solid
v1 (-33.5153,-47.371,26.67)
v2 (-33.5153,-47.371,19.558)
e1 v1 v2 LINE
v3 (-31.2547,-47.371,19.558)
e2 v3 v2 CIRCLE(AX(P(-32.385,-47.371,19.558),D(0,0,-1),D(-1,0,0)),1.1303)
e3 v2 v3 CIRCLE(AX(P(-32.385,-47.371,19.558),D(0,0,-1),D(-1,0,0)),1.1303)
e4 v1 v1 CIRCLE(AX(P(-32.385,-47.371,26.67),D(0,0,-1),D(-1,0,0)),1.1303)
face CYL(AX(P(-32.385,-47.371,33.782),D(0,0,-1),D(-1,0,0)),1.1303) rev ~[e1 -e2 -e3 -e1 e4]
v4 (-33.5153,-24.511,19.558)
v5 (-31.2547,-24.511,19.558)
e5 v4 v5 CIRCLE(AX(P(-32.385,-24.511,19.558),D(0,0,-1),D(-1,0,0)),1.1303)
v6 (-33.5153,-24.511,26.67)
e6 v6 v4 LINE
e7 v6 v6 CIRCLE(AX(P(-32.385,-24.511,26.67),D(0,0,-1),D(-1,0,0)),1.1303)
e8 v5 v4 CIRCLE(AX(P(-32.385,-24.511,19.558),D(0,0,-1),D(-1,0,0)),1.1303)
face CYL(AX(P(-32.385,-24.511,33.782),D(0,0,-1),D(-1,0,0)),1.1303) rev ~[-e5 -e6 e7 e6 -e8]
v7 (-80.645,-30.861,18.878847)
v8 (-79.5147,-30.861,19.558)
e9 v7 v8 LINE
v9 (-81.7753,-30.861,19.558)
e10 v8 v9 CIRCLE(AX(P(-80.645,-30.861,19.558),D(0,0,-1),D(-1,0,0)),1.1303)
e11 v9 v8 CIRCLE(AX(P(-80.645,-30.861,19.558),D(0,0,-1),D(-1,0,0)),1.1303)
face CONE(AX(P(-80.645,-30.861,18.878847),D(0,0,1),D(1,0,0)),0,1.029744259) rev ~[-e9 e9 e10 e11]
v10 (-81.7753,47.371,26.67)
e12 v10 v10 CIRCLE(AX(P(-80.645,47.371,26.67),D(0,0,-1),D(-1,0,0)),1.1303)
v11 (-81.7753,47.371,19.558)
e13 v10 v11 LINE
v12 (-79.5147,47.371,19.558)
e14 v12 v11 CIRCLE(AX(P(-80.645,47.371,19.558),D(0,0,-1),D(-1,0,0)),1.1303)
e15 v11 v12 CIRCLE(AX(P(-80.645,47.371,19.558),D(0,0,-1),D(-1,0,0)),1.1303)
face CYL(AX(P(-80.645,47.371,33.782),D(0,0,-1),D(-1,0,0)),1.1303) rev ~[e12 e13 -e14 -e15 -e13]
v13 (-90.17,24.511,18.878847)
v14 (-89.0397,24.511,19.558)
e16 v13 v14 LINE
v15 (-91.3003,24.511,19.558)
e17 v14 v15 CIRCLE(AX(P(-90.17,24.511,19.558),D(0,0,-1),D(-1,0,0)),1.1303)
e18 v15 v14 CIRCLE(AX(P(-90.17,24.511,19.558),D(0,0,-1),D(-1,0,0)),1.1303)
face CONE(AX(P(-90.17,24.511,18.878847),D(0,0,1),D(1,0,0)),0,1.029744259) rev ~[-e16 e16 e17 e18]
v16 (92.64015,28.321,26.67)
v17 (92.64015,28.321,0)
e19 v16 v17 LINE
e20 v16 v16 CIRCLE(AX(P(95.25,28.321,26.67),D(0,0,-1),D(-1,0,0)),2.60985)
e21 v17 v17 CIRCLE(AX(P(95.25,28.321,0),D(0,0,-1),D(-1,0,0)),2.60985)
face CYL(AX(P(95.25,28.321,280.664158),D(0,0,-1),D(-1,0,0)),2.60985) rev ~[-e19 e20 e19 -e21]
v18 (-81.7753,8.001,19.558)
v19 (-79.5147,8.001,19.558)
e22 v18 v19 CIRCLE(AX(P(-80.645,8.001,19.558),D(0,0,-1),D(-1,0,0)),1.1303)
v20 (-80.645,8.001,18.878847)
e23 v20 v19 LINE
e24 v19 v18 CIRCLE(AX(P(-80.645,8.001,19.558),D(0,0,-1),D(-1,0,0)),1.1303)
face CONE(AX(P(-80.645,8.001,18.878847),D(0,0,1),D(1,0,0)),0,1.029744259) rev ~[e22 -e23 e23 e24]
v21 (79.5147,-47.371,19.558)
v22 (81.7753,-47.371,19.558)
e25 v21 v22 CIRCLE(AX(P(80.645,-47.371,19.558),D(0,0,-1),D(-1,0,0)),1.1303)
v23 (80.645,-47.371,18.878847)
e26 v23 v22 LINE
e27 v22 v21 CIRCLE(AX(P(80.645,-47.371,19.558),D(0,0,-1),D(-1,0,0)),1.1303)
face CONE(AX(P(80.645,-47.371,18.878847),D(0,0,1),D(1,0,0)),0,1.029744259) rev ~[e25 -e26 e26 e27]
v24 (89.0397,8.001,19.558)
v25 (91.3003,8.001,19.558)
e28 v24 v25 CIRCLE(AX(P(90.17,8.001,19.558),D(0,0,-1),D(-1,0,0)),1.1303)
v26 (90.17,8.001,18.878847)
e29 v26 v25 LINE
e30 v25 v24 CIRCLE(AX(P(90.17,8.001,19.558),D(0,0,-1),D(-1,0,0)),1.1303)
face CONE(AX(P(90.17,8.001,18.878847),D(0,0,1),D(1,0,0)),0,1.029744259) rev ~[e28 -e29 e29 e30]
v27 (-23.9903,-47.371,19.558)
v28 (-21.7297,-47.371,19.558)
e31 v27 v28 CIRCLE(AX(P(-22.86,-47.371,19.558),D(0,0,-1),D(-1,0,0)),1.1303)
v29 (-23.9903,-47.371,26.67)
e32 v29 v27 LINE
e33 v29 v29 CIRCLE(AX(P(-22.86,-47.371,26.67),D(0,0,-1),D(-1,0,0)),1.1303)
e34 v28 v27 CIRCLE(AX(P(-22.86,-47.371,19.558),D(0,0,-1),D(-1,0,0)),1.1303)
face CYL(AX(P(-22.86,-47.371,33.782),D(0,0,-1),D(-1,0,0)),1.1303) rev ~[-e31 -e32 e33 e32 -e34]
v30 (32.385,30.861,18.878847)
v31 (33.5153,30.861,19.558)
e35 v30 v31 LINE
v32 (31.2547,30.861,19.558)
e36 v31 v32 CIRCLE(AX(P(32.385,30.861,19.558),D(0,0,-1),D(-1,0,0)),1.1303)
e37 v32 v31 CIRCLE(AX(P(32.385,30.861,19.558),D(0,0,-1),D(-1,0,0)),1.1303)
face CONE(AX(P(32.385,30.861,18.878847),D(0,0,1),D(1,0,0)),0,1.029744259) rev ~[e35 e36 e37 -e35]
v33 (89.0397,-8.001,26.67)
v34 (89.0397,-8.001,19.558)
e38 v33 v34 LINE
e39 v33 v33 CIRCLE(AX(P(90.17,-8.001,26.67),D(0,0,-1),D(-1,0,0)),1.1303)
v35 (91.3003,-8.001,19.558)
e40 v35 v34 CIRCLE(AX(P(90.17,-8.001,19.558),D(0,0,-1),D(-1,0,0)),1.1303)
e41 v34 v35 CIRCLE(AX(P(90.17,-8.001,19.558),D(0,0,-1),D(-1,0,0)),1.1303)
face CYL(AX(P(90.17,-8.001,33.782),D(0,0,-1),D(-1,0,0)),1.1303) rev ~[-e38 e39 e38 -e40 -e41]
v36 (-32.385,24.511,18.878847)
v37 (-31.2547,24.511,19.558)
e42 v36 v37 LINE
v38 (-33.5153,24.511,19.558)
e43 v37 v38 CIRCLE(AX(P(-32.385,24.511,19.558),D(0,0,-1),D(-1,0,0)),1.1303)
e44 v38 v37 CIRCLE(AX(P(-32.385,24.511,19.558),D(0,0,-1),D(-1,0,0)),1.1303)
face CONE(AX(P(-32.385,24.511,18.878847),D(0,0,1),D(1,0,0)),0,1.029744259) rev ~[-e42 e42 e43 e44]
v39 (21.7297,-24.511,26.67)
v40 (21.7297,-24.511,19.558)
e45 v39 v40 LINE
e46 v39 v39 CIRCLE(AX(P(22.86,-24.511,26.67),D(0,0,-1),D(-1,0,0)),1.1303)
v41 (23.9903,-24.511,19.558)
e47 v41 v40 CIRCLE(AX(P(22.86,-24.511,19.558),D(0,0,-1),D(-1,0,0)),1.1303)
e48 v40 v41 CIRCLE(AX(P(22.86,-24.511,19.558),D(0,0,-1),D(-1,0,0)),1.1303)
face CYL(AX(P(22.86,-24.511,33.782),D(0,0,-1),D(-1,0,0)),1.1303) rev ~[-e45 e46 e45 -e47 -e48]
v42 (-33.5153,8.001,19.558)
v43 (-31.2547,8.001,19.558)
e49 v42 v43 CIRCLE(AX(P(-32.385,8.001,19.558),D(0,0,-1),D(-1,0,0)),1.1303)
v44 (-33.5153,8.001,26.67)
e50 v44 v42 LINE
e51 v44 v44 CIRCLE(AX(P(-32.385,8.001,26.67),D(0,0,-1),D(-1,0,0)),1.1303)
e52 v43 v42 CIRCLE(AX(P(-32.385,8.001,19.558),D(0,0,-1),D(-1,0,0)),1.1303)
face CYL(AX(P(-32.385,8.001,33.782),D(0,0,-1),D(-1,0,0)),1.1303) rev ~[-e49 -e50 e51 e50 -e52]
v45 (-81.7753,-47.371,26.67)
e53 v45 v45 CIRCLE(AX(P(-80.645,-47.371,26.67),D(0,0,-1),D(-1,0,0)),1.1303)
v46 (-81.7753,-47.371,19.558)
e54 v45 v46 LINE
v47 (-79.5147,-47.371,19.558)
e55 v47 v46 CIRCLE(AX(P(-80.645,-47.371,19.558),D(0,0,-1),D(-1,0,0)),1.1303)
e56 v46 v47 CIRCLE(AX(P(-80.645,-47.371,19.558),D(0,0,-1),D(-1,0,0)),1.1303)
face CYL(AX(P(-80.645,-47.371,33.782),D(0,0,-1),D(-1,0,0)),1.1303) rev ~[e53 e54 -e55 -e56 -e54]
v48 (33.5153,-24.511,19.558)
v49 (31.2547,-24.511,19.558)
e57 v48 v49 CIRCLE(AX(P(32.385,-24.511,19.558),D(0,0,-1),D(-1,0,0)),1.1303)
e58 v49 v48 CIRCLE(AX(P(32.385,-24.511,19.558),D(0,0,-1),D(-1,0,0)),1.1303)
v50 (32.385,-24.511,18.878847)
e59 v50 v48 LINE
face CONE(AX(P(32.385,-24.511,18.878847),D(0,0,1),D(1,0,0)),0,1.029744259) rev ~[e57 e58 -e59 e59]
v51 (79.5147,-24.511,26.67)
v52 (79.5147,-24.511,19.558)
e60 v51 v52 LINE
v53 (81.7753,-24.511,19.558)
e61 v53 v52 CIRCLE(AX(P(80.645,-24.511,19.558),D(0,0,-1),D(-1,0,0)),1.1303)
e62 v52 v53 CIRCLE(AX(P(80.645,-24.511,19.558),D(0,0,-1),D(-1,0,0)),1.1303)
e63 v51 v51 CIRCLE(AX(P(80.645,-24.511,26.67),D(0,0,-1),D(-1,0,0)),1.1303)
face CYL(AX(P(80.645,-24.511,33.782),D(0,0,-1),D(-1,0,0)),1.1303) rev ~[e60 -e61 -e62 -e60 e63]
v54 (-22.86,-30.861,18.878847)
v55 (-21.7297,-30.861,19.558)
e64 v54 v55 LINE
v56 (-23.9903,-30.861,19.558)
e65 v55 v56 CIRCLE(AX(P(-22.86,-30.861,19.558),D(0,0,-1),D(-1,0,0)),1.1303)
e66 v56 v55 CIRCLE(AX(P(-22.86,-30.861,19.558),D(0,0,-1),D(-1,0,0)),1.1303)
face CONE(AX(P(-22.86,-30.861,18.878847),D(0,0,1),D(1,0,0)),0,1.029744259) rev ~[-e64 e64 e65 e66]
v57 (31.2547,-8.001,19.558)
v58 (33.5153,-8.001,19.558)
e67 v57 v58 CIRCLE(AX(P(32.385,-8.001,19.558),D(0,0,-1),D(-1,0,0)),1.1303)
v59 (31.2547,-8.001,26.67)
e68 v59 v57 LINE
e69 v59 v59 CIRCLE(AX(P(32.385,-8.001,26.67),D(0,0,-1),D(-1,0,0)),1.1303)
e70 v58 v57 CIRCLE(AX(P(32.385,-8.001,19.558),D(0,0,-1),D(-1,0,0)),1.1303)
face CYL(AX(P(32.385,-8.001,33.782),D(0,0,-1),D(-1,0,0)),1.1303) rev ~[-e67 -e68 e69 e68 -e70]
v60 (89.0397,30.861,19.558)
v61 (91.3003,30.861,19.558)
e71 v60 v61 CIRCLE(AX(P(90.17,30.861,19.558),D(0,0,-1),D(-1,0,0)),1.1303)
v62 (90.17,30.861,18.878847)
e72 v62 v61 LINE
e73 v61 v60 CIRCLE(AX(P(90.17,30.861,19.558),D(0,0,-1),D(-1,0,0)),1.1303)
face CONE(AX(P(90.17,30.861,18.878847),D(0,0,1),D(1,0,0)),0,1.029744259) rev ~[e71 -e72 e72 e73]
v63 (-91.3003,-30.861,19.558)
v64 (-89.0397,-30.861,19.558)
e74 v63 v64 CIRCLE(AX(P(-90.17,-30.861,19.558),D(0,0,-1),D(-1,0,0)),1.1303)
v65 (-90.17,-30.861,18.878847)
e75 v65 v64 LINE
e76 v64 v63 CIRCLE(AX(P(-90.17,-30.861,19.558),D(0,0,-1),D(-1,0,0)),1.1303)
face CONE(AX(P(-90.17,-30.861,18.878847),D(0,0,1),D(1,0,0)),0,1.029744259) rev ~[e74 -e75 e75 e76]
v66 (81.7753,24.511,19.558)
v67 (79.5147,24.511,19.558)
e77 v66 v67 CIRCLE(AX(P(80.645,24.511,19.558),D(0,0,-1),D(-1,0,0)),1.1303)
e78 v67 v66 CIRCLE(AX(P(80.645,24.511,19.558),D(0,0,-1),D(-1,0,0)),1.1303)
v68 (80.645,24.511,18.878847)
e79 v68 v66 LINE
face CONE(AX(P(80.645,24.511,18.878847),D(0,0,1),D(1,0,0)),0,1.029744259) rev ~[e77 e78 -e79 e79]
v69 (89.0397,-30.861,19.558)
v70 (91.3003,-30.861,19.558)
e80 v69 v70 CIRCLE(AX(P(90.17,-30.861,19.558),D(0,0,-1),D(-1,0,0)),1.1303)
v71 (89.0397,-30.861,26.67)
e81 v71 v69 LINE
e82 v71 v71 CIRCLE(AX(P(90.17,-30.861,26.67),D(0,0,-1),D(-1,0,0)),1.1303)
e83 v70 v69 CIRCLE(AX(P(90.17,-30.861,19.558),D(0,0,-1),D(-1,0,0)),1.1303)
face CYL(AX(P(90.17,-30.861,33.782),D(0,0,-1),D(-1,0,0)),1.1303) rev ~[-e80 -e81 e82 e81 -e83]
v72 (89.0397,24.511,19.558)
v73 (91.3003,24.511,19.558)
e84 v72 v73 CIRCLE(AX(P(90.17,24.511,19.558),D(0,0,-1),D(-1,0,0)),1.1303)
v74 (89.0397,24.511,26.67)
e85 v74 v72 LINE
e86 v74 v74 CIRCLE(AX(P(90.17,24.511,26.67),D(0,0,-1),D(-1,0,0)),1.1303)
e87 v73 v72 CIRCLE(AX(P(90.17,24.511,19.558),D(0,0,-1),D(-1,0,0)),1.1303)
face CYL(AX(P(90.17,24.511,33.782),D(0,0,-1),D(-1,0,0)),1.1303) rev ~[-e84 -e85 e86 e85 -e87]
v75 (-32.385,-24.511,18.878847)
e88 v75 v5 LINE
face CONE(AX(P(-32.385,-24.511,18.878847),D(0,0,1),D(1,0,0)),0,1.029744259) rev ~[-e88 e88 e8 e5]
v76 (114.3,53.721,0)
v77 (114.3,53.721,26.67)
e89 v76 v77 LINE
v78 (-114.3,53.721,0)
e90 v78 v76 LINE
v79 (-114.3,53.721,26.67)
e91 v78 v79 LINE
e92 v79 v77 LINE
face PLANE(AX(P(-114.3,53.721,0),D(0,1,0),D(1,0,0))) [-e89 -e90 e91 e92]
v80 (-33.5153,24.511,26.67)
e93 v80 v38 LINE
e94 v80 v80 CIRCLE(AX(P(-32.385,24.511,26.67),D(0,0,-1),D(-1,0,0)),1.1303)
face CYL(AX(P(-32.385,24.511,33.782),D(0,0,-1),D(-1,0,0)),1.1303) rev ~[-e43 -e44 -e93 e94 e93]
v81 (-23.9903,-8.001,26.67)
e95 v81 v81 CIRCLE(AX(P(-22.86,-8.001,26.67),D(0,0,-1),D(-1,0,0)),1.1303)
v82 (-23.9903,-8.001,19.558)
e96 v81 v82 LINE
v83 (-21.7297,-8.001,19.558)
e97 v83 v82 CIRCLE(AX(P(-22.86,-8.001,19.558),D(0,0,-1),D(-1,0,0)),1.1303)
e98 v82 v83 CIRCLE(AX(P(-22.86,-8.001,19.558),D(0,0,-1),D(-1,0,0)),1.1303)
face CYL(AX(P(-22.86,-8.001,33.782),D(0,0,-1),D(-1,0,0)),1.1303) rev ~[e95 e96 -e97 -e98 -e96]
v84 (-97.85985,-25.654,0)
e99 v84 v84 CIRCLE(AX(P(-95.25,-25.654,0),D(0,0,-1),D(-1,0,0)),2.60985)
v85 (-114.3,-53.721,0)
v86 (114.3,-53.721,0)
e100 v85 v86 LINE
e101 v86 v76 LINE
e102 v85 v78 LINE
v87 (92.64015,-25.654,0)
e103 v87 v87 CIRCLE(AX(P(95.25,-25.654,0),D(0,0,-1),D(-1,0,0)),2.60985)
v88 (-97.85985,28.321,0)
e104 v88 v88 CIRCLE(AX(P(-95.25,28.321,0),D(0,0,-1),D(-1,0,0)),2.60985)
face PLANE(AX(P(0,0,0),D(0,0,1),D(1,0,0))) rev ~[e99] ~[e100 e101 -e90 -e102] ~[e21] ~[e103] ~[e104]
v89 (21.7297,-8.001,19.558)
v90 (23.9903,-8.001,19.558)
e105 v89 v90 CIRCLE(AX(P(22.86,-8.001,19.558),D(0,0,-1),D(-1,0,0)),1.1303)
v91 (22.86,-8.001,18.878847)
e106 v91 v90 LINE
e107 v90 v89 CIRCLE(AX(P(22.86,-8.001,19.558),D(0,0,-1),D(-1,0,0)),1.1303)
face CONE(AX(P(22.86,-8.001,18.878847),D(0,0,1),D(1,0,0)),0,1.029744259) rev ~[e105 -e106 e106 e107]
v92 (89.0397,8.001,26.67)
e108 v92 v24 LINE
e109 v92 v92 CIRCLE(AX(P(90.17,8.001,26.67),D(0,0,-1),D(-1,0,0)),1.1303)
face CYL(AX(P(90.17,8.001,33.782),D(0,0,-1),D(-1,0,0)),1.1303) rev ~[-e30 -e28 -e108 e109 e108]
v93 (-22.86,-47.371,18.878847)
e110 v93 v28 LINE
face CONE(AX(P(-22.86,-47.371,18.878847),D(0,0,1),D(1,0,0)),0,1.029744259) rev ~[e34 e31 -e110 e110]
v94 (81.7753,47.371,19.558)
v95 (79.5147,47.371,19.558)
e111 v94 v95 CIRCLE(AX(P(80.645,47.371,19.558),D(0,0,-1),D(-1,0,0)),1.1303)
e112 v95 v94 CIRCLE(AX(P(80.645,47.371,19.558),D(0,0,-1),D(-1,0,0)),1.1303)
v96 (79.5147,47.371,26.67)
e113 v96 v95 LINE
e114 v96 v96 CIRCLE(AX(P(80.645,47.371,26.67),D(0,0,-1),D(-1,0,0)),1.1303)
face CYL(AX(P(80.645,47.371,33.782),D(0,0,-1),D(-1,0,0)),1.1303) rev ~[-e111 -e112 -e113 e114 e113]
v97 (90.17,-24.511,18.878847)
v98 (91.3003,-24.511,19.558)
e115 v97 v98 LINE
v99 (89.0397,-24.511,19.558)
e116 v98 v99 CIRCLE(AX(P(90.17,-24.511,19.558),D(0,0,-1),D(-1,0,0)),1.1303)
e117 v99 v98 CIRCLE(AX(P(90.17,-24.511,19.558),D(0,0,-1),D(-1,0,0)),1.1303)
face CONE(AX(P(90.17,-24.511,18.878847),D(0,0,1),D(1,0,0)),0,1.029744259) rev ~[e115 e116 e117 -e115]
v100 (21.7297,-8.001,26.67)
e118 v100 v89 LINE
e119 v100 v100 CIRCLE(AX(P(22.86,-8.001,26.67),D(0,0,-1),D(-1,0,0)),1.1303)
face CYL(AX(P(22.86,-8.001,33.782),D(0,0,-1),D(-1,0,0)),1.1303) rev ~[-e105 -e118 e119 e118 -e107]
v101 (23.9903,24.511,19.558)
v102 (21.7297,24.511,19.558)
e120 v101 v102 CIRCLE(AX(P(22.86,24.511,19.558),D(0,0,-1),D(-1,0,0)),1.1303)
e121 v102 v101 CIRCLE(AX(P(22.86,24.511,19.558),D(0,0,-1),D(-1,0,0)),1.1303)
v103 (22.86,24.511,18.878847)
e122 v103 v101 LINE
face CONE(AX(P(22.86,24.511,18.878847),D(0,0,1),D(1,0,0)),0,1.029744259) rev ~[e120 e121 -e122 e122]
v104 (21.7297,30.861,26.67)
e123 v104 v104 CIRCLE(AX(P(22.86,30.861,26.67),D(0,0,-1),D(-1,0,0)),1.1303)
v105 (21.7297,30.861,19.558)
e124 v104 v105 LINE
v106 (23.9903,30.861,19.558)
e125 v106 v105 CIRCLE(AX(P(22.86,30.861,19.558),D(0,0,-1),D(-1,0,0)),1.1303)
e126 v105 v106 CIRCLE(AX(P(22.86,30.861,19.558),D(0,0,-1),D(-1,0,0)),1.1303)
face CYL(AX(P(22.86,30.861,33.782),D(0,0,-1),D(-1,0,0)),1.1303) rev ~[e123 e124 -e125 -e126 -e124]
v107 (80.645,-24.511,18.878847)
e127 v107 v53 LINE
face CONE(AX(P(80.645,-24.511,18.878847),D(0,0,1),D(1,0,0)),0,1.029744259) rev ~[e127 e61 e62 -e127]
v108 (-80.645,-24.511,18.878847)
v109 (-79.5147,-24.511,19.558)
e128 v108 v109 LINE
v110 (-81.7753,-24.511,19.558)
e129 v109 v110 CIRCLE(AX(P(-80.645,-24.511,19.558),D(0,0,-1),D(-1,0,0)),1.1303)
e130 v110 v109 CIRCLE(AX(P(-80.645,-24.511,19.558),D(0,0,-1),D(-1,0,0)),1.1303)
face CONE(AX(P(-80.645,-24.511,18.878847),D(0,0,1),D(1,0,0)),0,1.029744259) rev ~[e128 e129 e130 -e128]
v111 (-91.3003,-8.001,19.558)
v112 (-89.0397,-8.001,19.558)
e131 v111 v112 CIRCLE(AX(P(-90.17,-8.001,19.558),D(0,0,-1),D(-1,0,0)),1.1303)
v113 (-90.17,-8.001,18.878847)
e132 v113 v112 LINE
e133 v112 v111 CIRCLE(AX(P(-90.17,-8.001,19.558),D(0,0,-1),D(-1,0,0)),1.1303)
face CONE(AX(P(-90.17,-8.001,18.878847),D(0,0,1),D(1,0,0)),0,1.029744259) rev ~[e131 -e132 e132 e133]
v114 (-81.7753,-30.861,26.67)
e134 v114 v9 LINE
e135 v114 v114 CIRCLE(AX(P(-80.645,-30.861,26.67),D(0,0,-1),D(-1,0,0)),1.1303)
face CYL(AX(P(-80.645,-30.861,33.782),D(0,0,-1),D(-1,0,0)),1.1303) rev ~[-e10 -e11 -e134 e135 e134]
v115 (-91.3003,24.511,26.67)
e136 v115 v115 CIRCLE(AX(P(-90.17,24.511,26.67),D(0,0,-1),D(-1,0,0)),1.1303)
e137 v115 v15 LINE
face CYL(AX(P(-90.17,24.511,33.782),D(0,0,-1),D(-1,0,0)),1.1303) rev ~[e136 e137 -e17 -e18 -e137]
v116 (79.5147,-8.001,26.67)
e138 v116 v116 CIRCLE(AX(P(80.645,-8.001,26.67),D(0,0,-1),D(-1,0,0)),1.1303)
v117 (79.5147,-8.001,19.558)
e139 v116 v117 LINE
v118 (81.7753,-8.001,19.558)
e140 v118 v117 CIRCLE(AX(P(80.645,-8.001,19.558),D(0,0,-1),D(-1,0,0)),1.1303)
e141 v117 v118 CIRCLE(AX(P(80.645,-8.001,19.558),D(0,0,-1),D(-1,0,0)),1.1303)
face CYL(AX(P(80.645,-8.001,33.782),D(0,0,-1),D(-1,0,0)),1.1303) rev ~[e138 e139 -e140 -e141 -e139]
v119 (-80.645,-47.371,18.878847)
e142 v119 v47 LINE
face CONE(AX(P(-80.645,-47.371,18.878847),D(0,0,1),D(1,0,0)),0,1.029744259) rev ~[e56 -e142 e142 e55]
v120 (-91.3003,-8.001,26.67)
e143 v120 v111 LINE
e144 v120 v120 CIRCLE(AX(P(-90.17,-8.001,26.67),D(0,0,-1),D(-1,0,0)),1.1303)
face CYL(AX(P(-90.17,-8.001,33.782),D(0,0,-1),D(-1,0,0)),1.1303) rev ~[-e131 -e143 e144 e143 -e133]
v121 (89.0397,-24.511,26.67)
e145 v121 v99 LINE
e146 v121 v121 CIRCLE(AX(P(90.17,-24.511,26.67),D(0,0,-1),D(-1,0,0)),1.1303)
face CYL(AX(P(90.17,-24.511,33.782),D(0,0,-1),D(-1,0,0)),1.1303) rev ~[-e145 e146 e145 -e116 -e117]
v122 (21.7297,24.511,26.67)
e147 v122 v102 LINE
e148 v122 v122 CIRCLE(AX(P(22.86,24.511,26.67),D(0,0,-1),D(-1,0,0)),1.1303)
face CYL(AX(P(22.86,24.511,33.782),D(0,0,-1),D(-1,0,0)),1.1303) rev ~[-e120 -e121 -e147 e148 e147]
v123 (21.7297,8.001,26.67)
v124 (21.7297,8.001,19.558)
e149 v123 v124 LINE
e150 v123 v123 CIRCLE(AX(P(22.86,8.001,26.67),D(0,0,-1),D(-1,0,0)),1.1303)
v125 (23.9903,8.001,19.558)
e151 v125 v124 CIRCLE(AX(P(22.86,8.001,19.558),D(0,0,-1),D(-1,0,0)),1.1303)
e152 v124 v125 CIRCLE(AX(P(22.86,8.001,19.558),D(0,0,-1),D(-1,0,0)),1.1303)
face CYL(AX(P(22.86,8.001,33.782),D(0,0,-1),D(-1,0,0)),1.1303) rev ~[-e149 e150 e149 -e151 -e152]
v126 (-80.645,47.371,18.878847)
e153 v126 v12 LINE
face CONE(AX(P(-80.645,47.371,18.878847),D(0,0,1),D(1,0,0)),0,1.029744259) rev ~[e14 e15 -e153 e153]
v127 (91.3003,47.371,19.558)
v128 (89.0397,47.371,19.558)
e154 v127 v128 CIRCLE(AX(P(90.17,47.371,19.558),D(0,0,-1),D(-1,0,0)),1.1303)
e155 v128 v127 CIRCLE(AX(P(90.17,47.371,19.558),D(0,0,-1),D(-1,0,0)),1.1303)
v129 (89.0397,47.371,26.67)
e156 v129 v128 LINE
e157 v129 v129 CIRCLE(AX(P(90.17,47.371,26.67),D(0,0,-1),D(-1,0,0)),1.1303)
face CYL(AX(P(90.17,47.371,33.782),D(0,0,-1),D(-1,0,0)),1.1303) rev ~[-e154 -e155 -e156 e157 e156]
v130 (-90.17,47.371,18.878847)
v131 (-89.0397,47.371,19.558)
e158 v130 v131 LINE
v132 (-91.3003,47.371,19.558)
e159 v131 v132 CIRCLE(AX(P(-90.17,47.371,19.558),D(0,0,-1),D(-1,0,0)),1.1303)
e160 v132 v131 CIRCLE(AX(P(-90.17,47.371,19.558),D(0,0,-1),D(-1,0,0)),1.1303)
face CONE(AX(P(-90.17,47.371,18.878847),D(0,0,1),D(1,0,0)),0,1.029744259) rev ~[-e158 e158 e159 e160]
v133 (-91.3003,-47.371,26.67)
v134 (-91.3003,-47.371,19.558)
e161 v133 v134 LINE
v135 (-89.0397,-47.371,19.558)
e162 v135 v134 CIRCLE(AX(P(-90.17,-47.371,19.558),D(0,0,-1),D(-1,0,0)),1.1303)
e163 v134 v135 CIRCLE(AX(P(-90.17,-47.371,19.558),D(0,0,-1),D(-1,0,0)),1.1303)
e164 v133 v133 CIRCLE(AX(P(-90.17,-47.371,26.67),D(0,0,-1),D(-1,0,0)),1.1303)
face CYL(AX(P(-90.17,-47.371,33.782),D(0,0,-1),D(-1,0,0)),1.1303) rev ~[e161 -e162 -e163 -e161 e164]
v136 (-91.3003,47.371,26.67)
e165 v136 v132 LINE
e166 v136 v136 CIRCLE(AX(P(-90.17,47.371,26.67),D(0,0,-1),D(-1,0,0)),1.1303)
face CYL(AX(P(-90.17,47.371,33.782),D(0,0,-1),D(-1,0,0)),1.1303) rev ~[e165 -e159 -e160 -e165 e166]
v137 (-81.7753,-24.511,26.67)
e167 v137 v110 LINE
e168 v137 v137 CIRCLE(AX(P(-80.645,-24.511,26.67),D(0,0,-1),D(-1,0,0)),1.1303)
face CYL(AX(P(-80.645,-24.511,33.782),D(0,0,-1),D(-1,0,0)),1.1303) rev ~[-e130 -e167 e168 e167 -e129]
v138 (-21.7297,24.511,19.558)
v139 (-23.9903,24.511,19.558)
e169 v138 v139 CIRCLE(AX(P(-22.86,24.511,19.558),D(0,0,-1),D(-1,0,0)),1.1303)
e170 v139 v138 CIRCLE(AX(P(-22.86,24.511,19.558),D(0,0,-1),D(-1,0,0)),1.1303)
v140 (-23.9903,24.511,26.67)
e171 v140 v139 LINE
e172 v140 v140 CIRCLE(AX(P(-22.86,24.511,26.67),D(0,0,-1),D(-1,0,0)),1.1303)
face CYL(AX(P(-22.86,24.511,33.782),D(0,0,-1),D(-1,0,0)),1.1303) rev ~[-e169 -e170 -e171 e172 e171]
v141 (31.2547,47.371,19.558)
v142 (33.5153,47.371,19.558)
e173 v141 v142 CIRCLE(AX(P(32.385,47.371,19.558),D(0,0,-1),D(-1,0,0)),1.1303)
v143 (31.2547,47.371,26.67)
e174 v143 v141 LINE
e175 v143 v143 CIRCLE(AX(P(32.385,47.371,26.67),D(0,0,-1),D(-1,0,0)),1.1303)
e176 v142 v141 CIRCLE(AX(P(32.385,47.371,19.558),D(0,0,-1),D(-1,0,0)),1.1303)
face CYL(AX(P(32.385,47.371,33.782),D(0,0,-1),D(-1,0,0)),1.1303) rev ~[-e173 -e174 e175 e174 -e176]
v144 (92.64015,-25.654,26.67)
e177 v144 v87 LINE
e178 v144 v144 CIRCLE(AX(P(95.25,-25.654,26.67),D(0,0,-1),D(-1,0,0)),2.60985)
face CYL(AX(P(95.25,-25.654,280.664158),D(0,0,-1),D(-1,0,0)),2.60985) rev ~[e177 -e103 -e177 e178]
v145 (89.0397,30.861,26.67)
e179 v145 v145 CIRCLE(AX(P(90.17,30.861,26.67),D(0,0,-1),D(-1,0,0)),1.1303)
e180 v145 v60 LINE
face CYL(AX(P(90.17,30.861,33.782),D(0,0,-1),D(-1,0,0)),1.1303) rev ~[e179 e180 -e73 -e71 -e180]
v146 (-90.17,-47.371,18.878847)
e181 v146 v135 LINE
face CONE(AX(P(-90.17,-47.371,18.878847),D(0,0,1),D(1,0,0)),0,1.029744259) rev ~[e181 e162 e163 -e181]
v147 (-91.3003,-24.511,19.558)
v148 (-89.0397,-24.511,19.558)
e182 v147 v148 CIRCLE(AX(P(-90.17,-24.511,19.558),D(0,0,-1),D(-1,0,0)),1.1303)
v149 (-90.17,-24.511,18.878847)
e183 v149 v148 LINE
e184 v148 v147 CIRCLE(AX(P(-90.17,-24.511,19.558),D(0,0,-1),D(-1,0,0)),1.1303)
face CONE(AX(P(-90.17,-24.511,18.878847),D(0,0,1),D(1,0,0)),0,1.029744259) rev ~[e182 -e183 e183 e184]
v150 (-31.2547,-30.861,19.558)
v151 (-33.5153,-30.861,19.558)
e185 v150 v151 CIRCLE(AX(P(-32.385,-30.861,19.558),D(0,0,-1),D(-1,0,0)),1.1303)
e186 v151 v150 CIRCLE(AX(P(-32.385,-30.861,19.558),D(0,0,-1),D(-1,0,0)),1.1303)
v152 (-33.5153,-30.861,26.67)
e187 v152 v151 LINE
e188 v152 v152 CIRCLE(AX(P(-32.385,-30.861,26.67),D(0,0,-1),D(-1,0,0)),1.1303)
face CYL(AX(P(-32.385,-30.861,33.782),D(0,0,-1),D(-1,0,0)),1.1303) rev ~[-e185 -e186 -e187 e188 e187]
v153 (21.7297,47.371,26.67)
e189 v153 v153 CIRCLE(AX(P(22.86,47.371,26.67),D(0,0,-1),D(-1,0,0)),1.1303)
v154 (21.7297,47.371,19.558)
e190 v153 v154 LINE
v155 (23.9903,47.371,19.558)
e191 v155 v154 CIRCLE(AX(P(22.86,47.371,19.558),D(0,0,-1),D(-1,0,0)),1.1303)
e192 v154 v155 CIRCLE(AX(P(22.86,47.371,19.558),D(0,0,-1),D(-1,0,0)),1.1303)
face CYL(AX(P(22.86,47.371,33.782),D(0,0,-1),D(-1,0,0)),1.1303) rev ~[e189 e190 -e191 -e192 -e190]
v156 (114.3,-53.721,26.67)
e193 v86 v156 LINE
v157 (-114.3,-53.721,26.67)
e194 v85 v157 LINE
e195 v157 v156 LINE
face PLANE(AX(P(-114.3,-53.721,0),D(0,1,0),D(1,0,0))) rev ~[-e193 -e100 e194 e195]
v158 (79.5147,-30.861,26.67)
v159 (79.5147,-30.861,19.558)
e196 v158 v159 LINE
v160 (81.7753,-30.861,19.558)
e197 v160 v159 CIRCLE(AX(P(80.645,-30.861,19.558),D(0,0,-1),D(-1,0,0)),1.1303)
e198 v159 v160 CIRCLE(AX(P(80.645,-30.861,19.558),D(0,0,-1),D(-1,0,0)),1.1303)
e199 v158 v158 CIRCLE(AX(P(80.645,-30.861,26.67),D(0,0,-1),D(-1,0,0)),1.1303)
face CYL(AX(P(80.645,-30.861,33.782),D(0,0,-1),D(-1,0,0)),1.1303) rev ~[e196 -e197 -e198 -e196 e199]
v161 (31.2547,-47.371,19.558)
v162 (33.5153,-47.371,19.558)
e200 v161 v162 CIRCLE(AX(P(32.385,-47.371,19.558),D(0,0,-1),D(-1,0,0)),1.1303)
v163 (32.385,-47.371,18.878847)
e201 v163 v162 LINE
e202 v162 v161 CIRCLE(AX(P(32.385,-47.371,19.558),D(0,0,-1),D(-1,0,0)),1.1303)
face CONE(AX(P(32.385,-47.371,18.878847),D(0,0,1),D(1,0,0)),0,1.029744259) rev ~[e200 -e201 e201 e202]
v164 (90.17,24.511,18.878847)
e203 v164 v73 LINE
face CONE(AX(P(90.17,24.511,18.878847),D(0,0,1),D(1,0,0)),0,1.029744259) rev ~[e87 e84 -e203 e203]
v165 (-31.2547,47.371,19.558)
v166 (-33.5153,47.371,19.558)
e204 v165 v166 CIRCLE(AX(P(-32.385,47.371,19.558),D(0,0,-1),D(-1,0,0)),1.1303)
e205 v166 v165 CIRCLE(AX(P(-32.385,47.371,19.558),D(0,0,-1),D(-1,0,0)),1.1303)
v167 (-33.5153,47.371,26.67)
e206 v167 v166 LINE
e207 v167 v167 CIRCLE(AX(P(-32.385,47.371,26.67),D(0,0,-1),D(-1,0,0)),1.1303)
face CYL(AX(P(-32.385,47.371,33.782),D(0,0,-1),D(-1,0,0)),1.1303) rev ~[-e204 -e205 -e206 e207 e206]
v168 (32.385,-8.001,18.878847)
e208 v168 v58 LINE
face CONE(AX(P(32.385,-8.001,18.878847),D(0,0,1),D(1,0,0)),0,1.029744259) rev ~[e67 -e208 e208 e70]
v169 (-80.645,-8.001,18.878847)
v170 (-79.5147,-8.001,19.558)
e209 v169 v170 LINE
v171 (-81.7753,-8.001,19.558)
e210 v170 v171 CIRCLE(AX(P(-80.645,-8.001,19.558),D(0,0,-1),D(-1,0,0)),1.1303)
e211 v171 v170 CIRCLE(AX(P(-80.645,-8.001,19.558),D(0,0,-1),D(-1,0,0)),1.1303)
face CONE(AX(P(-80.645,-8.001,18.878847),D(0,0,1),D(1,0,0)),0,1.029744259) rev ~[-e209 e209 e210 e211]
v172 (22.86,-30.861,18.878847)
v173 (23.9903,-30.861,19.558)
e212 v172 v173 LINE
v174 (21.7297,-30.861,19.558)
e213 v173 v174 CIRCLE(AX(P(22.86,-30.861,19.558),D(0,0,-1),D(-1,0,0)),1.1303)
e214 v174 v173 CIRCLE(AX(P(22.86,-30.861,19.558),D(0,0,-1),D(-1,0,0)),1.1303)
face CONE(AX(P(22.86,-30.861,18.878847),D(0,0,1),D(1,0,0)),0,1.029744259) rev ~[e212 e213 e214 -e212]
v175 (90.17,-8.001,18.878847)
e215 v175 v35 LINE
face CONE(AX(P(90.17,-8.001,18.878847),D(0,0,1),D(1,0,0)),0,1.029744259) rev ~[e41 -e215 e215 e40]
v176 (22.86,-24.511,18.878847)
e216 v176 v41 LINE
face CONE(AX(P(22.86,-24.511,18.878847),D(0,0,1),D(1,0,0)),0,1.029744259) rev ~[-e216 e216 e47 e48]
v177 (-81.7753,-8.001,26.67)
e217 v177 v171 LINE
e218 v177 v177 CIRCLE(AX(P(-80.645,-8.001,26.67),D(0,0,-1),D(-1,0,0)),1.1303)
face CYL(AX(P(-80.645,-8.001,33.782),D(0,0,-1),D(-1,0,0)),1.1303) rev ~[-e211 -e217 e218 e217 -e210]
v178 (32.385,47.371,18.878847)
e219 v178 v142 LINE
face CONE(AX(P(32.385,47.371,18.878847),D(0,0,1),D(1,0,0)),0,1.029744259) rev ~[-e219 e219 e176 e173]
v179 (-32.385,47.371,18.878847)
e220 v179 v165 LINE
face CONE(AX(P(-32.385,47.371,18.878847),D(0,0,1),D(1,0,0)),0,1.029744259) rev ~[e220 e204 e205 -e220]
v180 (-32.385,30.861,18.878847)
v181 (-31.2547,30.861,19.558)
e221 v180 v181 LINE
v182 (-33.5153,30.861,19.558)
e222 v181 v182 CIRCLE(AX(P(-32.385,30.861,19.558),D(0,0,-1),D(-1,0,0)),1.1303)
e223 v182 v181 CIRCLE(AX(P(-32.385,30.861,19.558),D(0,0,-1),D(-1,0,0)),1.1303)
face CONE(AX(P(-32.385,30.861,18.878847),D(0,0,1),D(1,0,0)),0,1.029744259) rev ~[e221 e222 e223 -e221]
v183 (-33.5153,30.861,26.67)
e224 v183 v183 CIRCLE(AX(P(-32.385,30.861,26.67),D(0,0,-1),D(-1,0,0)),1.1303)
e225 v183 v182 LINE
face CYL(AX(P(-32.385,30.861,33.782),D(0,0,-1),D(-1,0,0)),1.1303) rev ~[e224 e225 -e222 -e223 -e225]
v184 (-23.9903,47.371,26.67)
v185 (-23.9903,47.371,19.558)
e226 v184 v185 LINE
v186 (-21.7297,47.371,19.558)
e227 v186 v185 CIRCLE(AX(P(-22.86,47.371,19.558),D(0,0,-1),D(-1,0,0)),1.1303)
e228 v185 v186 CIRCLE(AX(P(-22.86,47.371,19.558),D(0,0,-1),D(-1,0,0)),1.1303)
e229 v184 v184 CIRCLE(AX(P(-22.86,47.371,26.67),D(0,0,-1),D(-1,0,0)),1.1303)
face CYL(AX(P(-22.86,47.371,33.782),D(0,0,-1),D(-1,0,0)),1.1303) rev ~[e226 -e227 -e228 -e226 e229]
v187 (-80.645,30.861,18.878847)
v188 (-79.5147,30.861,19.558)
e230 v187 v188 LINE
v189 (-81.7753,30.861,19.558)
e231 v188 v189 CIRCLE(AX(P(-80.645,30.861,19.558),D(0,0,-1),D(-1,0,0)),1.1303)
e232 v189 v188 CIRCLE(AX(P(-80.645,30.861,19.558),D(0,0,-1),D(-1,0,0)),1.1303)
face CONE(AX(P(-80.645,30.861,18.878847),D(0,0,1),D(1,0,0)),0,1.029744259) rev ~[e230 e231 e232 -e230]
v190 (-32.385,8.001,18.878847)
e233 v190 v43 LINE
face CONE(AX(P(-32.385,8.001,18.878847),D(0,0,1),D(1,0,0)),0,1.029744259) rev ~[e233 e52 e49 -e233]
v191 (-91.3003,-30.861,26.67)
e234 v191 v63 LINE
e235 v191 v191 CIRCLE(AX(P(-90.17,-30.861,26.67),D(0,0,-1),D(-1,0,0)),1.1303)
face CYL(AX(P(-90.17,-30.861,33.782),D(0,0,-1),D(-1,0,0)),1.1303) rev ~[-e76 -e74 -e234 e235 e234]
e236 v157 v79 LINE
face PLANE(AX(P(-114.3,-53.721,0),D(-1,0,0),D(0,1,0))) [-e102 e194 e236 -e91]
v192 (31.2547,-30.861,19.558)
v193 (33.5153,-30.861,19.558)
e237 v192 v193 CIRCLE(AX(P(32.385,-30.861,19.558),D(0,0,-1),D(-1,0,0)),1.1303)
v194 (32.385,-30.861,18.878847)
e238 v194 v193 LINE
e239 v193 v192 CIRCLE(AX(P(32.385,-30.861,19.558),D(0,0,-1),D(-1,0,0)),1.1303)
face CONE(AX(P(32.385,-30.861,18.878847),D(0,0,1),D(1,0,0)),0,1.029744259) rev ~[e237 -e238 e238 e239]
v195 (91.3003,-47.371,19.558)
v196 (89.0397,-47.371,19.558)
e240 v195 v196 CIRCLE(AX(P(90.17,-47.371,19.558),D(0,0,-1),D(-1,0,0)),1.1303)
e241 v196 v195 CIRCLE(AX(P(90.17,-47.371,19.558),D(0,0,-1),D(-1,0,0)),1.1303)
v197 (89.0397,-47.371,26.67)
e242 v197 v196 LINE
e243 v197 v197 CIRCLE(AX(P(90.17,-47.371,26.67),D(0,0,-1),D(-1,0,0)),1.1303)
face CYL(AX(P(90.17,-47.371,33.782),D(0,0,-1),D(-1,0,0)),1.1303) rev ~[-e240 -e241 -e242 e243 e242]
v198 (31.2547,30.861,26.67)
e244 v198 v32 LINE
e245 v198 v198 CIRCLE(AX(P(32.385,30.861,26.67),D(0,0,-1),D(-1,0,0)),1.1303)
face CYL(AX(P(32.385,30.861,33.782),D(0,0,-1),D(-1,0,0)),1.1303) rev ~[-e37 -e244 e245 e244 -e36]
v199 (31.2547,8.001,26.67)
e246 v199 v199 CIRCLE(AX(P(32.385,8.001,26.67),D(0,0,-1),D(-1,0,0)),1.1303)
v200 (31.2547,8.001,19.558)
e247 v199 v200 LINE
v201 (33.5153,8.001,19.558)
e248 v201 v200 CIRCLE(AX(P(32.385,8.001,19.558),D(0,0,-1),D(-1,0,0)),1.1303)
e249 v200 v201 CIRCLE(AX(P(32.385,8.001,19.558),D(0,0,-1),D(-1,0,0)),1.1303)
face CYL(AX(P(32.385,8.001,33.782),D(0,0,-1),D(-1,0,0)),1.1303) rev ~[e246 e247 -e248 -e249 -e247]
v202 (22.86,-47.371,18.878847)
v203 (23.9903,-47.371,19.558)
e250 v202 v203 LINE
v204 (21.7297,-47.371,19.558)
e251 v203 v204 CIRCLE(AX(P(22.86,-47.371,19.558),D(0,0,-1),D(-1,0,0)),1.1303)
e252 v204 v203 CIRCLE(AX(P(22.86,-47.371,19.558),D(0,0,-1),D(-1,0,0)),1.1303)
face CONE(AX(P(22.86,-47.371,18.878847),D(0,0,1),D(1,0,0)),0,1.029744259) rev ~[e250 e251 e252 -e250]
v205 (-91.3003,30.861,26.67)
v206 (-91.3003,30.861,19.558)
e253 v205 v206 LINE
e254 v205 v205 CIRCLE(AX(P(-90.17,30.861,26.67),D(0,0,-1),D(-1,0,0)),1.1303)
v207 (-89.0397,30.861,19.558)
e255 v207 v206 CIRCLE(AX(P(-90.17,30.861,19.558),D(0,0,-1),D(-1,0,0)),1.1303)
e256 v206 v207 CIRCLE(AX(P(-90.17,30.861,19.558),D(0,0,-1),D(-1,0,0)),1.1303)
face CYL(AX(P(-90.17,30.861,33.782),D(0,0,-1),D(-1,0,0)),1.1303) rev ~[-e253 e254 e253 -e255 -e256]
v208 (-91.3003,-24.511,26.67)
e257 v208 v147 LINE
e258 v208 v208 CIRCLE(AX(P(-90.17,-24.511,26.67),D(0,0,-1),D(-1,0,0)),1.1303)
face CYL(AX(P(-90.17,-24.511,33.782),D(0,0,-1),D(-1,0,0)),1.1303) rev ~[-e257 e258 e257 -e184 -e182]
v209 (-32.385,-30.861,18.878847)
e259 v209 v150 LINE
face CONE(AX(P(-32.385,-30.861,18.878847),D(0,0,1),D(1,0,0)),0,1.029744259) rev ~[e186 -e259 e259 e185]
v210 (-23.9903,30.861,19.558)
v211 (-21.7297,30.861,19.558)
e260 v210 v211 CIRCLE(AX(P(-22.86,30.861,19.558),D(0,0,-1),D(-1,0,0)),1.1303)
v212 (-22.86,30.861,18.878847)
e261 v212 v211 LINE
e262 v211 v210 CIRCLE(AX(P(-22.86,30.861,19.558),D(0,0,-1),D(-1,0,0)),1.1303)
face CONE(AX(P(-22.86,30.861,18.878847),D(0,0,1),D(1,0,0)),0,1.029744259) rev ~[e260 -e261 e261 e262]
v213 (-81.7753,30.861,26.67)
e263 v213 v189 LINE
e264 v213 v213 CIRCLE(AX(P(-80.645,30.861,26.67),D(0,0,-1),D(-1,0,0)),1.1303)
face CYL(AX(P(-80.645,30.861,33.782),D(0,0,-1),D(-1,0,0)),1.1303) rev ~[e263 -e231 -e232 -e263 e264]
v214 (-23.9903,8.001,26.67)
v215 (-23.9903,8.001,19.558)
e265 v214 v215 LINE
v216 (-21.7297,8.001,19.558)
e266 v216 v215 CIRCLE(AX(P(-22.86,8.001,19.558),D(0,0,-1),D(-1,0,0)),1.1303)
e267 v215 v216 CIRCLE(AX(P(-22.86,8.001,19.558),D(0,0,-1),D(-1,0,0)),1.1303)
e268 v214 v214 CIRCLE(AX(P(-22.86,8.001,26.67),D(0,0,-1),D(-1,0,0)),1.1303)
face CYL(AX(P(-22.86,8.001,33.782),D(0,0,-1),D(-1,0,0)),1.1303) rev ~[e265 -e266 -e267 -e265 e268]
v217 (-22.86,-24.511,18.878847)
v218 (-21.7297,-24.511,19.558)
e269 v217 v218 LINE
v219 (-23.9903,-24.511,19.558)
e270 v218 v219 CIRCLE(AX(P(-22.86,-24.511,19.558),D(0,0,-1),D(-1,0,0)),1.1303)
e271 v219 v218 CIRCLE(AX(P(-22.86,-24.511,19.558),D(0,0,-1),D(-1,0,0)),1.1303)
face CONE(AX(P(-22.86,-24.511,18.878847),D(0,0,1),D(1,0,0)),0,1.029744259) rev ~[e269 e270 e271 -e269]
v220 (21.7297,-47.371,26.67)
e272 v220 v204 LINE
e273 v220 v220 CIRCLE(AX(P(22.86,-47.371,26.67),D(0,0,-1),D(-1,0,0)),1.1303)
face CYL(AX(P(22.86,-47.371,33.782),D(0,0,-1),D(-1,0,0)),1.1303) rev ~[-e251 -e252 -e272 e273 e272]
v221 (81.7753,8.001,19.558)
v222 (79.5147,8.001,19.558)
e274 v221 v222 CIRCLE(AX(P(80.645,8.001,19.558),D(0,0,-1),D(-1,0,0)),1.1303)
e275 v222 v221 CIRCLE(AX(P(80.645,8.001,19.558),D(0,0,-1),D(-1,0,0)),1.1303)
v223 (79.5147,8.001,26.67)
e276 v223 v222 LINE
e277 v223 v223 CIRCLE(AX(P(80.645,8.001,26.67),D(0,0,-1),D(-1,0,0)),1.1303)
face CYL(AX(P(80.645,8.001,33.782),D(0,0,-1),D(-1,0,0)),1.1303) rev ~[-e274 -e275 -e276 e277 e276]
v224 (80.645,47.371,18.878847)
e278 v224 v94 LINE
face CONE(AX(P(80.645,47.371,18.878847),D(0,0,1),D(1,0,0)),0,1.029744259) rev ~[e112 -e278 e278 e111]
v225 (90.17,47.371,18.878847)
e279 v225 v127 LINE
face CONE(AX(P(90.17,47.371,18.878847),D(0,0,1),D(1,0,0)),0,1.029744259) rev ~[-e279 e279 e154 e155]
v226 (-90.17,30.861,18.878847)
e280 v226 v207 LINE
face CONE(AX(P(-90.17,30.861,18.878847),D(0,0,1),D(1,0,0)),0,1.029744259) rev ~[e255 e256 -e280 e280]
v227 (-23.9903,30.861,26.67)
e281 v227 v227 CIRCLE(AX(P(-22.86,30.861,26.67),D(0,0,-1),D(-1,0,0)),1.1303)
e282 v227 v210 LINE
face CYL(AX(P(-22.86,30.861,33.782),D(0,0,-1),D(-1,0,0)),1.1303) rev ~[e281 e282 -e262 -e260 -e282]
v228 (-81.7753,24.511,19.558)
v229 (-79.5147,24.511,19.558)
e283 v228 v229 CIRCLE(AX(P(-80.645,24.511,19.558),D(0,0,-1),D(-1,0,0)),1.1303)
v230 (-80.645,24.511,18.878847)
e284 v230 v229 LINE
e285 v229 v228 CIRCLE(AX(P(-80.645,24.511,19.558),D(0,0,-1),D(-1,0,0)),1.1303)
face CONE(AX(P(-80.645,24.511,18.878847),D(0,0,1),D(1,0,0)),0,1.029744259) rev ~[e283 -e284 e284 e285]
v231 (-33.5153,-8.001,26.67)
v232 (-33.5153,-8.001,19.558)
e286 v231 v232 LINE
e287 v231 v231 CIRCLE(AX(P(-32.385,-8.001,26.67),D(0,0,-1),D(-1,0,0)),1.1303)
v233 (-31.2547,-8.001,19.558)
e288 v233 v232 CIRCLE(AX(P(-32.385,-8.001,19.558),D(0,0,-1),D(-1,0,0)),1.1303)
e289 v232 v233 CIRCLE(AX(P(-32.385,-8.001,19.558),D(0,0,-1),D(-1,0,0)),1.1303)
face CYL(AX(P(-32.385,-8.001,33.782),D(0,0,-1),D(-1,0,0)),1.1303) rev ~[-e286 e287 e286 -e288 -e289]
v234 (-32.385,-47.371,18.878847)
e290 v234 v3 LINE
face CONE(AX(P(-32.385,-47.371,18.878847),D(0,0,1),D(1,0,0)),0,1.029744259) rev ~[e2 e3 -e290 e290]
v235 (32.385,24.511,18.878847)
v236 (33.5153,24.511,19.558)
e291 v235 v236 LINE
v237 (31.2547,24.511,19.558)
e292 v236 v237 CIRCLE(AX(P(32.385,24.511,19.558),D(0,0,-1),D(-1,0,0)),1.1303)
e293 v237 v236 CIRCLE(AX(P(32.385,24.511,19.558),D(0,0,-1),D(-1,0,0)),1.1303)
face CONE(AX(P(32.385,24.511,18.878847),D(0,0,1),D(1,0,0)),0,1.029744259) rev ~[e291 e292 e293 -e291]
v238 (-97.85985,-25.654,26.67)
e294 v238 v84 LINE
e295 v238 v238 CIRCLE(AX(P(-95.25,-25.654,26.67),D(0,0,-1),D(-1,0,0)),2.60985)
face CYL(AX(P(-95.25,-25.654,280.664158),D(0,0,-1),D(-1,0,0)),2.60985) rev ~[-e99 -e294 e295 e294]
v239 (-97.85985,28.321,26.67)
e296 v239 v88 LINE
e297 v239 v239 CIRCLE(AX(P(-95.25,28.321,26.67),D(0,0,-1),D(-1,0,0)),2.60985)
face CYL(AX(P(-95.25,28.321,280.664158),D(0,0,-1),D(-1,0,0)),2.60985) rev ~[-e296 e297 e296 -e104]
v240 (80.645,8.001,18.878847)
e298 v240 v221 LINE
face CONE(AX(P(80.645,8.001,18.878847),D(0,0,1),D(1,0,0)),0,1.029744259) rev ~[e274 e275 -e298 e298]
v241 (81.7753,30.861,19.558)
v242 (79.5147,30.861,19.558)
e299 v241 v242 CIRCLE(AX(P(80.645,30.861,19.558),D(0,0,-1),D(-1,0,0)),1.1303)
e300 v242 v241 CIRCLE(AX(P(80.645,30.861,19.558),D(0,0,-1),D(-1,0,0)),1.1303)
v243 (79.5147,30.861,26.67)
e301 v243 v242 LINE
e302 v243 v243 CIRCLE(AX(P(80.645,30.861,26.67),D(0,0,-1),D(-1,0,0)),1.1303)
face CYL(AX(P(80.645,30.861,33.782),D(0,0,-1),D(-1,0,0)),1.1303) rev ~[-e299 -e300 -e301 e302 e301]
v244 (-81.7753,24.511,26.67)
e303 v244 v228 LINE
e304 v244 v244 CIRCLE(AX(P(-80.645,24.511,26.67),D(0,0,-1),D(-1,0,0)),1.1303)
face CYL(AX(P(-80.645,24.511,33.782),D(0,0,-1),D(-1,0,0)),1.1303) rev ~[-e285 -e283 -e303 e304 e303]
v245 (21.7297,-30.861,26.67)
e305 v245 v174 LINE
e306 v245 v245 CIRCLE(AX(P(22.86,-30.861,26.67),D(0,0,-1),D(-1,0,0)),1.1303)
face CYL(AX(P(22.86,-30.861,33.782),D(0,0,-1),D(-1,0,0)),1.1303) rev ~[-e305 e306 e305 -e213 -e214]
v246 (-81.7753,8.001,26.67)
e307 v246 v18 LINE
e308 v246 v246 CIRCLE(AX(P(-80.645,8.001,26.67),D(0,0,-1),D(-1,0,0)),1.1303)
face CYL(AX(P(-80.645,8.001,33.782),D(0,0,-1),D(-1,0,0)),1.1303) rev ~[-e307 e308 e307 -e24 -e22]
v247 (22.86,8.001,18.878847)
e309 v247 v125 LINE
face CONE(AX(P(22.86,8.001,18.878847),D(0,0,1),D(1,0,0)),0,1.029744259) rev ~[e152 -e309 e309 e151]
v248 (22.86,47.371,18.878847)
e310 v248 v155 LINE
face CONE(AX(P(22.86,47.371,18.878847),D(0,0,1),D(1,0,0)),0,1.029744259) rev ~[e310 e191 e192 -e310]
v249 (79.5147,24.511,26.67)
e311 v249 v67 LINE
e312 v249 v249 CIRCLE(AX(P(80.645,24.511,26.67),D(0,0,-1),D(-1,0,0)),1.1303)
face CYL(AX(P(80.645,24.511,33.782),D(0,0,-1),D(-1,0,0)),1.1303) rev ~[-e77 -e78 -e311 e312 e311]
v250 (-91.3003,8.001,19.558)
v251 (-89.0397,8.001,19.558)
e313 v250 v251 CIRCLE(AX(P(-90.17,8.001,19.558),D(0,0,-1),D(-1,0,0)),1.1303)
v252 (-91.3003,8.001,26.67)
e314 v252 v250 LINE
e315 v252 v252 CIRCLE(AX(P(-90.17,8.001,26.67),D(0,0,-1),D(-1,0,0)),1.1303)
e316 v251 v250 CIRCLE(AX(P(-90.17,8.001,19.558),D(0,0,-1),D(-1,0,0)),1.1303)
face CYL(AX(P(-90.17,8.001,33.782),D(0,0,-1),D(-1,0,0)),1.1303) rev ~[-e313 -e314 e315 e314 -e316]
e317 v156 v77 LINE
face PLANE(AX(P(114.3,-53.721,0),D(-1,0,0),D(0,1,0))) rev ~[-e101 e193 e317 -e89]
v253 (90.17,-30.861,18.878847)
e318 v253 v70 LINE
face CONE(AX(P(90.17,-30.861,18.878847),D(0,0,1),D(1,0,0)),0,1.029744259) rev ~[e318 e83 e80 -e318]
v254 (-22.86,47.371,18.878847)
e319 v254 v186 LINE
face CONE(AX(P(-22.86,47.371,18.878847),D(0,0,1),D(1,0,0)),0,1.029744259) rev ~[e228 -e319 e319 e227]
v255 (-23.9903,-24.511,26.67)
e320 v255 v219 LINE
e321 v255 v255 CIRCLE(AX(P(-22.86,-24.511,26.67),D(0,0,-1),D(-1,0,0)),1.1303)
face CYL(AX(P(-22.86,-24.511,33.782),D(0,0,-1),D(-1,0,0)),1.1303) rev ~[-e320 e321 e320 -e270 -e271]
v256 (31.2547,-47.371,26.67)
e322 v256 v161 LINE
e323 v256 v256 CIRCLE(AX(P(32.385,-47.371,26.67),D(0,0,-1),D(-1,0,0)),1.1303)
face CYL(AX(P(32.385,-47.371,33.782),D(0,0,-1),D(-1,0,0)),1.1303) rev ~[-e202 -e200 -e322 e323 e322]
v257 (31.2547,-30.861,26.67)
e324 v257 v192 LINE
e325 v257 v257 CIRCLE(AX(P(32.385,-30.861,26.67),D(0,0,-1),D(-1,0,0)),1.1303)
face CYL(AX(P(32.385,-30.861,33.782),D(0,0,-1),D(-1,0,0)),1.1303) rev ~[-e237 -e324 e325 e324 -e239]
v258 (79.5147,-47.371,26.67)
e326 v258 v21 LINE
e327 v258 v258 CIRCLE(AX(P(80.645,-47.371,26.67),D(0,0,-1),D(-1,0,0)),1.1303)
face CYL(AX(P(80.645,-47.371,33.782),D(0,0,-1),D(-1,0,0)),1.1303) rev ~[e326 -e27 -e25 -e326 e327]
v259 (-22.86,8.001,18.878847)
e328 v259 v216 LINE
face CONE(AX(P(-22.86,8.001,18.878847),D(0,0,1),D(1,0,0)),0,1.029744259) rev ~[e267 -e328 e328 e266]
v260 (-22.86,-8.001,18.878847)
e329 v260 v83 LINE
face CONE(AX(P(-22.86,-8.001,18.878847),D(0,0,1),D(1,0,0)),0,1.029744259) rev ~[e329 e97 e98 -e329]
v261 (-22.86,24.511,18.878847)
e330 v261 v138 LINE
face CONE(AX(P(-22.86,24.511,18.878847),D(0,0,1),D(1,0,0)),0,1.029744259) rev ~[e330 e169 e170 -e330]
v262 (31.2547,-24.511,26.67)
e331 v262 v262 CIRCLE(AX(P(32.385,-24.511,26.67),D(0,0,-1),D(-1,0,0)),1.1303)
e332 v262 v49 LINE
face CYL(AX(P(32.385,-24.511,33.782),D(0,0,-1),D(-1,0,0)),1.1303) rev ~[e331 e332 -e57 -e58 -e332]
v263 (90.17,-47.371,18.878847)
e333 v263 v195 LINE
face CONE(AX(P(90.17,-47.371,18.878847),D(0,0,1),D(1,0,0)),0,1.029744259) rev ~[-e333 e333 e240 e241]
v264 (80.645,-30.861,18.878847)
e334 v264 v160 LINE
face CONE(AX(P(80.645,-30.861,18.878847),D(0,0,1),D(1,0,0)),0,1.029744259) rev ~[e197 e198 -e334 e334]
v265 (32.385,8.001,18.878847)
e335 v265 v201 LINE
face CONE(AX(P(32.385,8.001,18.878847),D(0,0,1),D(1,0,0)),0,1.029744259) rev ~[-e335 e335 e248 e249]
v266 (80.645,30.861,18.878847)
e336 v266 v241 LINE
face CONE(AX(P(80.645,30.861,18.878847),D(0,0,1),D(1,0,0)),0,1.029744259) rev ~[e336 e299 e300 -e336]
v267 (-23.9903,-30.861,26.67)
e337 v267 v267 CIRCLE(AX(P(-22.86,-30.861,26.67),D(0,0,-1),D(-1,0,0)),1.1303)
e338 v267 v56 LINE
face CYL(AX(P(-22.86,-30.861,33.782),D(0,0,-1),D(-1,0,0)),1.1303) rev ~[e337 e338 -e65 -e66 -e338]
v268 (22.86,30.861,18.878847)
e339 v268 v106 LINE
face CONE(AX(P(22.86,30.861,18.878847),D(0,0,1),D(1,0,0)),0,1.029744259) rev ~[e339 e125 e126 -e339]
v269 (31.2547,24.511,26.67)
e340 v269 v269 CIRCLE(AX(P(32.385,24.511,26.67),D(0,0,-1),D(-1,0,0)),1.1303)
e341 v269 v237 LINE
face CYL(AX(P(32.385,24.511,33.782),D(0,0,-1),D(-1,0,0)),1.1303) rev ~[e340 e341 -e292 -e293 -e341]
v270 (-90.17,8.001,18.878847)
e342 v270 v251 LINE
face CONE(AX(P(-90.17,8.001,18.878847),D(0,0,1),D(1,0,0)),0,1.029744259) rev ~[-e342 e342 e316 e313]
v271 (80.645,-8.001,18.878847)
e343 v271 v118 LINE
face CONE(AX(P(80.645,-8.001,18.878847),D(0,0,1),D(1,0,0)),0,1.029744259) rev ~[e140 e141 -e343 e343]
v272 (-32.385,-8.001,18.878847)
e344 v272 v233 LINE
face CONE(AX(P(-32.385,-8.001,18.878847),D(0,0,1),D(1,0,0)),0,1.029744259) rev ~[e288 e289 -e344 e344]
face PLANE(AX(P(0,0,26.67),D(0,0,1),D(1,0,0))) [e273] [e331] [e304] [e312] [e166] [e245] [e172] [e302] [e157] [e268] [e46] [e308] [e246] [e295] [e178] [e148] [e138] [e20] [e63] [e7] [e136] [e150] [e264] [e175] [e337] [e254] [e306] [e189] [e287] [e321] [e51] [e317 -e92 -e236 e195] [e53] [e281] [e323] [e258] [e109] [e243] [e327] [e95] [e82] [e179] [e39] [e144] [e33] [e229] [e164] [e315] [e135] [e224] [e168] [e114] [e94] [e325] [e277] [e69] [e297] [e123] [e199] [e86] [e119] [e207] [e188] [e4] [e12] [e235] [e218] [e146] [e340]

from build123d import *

# Parameters (mm, degrees)
F0_W     = 228.6
F0_H     = 107.442
F1_DEPTH = 26.67
F3_D     = 5.2197
F5_D     = 2.2606
F5_DEPTH = 7.112
F5_TIP   = 0.6791527577


with BuildPart() as f1:
    # F0 (on Top) → F1 (new body)
    with BuildSketch(Plane.XY):
        Rectangle(F0_W, F0_H)
    extrude(amount=F1_DEPTH)

    # F3 (through all)
    with Locations(Plane.XY.offset(26.67)):
        with Locations((-95.25, 28.321), (-95.25, -25.654), (95.25, 28.321), (95.25, -25.654)):
            Hole(F3_D / 2)

    # F5
    with Locations(Plane.XY.offset(26.67)):
        with Locations((-90.17, 47.371), (-80.645, 47.371), (-80.645, 30.861), (-90.17, 30.861), (-90.17, 24.511), (-80.645, 24.511), (-80.645, 8.001), (-90.17, 8.001), (-90.17, -8.001), (-80.645, -8.001), (-80.645, -24.511), (-90.17, -24.511), (-90.17, -30.861), (-80.645, -30.861), (-80.645, -47.371), (-90.17, -47.371), (-32.385, 47.371), (-22.86, 47.371), (-22.86, 30.861), (-32.385, 30.861), (-32.385, 24.511), (-22.86, 24.511), (-22.86, 8.001), (-32.385, 8.001), (-32.385, -8.001), (-22.86, -8.001), (-22.86, -24.511), (-32.385, -24.511), (-32.385, -30.861), (-22.86, -30.861), (-22.86, -47.371), (-32.385, -47.371), (22.86, 47.371), (32.385, 47.371), (32.385, 30.861), (22.86, 30.861), (22.86, 24.511), (32.385, 24.511), (32.385, 8.001), (22.86, 8.001), (22.86, -8.001), (32.385, -8.001), (32.385, -24.511), (22.86, -24.511), (22.86, -30.861), (32.385, -30.861), (32.385, -47.371), (22.86, -47.371), (90.17, 47.371), (80.645, 47.371), (80.645, 30.861), (90.17, 30.861), (90.17, 24.511), (80.645, 24.511), (80.645, 8.001), (90.17, 8.001), (90.17, -8.001), (80.645, -8.001), (80.645, -24.511), (90.17, -24.511), (90.17, -30.861), (80.645, -30.861), (80.645, -47.371), (90.17, -47.371)):
            Hole(F5_D / 2, depth=F5_DEPTH)
            with Locations((0, 0, -(F5_DEPTH + F5_TIP / 2))):  # 118° drill point
                Cone(0, F5_D / 2, F5_TIP, mode=Mode.SUBTRACT)


solid = f1.part
